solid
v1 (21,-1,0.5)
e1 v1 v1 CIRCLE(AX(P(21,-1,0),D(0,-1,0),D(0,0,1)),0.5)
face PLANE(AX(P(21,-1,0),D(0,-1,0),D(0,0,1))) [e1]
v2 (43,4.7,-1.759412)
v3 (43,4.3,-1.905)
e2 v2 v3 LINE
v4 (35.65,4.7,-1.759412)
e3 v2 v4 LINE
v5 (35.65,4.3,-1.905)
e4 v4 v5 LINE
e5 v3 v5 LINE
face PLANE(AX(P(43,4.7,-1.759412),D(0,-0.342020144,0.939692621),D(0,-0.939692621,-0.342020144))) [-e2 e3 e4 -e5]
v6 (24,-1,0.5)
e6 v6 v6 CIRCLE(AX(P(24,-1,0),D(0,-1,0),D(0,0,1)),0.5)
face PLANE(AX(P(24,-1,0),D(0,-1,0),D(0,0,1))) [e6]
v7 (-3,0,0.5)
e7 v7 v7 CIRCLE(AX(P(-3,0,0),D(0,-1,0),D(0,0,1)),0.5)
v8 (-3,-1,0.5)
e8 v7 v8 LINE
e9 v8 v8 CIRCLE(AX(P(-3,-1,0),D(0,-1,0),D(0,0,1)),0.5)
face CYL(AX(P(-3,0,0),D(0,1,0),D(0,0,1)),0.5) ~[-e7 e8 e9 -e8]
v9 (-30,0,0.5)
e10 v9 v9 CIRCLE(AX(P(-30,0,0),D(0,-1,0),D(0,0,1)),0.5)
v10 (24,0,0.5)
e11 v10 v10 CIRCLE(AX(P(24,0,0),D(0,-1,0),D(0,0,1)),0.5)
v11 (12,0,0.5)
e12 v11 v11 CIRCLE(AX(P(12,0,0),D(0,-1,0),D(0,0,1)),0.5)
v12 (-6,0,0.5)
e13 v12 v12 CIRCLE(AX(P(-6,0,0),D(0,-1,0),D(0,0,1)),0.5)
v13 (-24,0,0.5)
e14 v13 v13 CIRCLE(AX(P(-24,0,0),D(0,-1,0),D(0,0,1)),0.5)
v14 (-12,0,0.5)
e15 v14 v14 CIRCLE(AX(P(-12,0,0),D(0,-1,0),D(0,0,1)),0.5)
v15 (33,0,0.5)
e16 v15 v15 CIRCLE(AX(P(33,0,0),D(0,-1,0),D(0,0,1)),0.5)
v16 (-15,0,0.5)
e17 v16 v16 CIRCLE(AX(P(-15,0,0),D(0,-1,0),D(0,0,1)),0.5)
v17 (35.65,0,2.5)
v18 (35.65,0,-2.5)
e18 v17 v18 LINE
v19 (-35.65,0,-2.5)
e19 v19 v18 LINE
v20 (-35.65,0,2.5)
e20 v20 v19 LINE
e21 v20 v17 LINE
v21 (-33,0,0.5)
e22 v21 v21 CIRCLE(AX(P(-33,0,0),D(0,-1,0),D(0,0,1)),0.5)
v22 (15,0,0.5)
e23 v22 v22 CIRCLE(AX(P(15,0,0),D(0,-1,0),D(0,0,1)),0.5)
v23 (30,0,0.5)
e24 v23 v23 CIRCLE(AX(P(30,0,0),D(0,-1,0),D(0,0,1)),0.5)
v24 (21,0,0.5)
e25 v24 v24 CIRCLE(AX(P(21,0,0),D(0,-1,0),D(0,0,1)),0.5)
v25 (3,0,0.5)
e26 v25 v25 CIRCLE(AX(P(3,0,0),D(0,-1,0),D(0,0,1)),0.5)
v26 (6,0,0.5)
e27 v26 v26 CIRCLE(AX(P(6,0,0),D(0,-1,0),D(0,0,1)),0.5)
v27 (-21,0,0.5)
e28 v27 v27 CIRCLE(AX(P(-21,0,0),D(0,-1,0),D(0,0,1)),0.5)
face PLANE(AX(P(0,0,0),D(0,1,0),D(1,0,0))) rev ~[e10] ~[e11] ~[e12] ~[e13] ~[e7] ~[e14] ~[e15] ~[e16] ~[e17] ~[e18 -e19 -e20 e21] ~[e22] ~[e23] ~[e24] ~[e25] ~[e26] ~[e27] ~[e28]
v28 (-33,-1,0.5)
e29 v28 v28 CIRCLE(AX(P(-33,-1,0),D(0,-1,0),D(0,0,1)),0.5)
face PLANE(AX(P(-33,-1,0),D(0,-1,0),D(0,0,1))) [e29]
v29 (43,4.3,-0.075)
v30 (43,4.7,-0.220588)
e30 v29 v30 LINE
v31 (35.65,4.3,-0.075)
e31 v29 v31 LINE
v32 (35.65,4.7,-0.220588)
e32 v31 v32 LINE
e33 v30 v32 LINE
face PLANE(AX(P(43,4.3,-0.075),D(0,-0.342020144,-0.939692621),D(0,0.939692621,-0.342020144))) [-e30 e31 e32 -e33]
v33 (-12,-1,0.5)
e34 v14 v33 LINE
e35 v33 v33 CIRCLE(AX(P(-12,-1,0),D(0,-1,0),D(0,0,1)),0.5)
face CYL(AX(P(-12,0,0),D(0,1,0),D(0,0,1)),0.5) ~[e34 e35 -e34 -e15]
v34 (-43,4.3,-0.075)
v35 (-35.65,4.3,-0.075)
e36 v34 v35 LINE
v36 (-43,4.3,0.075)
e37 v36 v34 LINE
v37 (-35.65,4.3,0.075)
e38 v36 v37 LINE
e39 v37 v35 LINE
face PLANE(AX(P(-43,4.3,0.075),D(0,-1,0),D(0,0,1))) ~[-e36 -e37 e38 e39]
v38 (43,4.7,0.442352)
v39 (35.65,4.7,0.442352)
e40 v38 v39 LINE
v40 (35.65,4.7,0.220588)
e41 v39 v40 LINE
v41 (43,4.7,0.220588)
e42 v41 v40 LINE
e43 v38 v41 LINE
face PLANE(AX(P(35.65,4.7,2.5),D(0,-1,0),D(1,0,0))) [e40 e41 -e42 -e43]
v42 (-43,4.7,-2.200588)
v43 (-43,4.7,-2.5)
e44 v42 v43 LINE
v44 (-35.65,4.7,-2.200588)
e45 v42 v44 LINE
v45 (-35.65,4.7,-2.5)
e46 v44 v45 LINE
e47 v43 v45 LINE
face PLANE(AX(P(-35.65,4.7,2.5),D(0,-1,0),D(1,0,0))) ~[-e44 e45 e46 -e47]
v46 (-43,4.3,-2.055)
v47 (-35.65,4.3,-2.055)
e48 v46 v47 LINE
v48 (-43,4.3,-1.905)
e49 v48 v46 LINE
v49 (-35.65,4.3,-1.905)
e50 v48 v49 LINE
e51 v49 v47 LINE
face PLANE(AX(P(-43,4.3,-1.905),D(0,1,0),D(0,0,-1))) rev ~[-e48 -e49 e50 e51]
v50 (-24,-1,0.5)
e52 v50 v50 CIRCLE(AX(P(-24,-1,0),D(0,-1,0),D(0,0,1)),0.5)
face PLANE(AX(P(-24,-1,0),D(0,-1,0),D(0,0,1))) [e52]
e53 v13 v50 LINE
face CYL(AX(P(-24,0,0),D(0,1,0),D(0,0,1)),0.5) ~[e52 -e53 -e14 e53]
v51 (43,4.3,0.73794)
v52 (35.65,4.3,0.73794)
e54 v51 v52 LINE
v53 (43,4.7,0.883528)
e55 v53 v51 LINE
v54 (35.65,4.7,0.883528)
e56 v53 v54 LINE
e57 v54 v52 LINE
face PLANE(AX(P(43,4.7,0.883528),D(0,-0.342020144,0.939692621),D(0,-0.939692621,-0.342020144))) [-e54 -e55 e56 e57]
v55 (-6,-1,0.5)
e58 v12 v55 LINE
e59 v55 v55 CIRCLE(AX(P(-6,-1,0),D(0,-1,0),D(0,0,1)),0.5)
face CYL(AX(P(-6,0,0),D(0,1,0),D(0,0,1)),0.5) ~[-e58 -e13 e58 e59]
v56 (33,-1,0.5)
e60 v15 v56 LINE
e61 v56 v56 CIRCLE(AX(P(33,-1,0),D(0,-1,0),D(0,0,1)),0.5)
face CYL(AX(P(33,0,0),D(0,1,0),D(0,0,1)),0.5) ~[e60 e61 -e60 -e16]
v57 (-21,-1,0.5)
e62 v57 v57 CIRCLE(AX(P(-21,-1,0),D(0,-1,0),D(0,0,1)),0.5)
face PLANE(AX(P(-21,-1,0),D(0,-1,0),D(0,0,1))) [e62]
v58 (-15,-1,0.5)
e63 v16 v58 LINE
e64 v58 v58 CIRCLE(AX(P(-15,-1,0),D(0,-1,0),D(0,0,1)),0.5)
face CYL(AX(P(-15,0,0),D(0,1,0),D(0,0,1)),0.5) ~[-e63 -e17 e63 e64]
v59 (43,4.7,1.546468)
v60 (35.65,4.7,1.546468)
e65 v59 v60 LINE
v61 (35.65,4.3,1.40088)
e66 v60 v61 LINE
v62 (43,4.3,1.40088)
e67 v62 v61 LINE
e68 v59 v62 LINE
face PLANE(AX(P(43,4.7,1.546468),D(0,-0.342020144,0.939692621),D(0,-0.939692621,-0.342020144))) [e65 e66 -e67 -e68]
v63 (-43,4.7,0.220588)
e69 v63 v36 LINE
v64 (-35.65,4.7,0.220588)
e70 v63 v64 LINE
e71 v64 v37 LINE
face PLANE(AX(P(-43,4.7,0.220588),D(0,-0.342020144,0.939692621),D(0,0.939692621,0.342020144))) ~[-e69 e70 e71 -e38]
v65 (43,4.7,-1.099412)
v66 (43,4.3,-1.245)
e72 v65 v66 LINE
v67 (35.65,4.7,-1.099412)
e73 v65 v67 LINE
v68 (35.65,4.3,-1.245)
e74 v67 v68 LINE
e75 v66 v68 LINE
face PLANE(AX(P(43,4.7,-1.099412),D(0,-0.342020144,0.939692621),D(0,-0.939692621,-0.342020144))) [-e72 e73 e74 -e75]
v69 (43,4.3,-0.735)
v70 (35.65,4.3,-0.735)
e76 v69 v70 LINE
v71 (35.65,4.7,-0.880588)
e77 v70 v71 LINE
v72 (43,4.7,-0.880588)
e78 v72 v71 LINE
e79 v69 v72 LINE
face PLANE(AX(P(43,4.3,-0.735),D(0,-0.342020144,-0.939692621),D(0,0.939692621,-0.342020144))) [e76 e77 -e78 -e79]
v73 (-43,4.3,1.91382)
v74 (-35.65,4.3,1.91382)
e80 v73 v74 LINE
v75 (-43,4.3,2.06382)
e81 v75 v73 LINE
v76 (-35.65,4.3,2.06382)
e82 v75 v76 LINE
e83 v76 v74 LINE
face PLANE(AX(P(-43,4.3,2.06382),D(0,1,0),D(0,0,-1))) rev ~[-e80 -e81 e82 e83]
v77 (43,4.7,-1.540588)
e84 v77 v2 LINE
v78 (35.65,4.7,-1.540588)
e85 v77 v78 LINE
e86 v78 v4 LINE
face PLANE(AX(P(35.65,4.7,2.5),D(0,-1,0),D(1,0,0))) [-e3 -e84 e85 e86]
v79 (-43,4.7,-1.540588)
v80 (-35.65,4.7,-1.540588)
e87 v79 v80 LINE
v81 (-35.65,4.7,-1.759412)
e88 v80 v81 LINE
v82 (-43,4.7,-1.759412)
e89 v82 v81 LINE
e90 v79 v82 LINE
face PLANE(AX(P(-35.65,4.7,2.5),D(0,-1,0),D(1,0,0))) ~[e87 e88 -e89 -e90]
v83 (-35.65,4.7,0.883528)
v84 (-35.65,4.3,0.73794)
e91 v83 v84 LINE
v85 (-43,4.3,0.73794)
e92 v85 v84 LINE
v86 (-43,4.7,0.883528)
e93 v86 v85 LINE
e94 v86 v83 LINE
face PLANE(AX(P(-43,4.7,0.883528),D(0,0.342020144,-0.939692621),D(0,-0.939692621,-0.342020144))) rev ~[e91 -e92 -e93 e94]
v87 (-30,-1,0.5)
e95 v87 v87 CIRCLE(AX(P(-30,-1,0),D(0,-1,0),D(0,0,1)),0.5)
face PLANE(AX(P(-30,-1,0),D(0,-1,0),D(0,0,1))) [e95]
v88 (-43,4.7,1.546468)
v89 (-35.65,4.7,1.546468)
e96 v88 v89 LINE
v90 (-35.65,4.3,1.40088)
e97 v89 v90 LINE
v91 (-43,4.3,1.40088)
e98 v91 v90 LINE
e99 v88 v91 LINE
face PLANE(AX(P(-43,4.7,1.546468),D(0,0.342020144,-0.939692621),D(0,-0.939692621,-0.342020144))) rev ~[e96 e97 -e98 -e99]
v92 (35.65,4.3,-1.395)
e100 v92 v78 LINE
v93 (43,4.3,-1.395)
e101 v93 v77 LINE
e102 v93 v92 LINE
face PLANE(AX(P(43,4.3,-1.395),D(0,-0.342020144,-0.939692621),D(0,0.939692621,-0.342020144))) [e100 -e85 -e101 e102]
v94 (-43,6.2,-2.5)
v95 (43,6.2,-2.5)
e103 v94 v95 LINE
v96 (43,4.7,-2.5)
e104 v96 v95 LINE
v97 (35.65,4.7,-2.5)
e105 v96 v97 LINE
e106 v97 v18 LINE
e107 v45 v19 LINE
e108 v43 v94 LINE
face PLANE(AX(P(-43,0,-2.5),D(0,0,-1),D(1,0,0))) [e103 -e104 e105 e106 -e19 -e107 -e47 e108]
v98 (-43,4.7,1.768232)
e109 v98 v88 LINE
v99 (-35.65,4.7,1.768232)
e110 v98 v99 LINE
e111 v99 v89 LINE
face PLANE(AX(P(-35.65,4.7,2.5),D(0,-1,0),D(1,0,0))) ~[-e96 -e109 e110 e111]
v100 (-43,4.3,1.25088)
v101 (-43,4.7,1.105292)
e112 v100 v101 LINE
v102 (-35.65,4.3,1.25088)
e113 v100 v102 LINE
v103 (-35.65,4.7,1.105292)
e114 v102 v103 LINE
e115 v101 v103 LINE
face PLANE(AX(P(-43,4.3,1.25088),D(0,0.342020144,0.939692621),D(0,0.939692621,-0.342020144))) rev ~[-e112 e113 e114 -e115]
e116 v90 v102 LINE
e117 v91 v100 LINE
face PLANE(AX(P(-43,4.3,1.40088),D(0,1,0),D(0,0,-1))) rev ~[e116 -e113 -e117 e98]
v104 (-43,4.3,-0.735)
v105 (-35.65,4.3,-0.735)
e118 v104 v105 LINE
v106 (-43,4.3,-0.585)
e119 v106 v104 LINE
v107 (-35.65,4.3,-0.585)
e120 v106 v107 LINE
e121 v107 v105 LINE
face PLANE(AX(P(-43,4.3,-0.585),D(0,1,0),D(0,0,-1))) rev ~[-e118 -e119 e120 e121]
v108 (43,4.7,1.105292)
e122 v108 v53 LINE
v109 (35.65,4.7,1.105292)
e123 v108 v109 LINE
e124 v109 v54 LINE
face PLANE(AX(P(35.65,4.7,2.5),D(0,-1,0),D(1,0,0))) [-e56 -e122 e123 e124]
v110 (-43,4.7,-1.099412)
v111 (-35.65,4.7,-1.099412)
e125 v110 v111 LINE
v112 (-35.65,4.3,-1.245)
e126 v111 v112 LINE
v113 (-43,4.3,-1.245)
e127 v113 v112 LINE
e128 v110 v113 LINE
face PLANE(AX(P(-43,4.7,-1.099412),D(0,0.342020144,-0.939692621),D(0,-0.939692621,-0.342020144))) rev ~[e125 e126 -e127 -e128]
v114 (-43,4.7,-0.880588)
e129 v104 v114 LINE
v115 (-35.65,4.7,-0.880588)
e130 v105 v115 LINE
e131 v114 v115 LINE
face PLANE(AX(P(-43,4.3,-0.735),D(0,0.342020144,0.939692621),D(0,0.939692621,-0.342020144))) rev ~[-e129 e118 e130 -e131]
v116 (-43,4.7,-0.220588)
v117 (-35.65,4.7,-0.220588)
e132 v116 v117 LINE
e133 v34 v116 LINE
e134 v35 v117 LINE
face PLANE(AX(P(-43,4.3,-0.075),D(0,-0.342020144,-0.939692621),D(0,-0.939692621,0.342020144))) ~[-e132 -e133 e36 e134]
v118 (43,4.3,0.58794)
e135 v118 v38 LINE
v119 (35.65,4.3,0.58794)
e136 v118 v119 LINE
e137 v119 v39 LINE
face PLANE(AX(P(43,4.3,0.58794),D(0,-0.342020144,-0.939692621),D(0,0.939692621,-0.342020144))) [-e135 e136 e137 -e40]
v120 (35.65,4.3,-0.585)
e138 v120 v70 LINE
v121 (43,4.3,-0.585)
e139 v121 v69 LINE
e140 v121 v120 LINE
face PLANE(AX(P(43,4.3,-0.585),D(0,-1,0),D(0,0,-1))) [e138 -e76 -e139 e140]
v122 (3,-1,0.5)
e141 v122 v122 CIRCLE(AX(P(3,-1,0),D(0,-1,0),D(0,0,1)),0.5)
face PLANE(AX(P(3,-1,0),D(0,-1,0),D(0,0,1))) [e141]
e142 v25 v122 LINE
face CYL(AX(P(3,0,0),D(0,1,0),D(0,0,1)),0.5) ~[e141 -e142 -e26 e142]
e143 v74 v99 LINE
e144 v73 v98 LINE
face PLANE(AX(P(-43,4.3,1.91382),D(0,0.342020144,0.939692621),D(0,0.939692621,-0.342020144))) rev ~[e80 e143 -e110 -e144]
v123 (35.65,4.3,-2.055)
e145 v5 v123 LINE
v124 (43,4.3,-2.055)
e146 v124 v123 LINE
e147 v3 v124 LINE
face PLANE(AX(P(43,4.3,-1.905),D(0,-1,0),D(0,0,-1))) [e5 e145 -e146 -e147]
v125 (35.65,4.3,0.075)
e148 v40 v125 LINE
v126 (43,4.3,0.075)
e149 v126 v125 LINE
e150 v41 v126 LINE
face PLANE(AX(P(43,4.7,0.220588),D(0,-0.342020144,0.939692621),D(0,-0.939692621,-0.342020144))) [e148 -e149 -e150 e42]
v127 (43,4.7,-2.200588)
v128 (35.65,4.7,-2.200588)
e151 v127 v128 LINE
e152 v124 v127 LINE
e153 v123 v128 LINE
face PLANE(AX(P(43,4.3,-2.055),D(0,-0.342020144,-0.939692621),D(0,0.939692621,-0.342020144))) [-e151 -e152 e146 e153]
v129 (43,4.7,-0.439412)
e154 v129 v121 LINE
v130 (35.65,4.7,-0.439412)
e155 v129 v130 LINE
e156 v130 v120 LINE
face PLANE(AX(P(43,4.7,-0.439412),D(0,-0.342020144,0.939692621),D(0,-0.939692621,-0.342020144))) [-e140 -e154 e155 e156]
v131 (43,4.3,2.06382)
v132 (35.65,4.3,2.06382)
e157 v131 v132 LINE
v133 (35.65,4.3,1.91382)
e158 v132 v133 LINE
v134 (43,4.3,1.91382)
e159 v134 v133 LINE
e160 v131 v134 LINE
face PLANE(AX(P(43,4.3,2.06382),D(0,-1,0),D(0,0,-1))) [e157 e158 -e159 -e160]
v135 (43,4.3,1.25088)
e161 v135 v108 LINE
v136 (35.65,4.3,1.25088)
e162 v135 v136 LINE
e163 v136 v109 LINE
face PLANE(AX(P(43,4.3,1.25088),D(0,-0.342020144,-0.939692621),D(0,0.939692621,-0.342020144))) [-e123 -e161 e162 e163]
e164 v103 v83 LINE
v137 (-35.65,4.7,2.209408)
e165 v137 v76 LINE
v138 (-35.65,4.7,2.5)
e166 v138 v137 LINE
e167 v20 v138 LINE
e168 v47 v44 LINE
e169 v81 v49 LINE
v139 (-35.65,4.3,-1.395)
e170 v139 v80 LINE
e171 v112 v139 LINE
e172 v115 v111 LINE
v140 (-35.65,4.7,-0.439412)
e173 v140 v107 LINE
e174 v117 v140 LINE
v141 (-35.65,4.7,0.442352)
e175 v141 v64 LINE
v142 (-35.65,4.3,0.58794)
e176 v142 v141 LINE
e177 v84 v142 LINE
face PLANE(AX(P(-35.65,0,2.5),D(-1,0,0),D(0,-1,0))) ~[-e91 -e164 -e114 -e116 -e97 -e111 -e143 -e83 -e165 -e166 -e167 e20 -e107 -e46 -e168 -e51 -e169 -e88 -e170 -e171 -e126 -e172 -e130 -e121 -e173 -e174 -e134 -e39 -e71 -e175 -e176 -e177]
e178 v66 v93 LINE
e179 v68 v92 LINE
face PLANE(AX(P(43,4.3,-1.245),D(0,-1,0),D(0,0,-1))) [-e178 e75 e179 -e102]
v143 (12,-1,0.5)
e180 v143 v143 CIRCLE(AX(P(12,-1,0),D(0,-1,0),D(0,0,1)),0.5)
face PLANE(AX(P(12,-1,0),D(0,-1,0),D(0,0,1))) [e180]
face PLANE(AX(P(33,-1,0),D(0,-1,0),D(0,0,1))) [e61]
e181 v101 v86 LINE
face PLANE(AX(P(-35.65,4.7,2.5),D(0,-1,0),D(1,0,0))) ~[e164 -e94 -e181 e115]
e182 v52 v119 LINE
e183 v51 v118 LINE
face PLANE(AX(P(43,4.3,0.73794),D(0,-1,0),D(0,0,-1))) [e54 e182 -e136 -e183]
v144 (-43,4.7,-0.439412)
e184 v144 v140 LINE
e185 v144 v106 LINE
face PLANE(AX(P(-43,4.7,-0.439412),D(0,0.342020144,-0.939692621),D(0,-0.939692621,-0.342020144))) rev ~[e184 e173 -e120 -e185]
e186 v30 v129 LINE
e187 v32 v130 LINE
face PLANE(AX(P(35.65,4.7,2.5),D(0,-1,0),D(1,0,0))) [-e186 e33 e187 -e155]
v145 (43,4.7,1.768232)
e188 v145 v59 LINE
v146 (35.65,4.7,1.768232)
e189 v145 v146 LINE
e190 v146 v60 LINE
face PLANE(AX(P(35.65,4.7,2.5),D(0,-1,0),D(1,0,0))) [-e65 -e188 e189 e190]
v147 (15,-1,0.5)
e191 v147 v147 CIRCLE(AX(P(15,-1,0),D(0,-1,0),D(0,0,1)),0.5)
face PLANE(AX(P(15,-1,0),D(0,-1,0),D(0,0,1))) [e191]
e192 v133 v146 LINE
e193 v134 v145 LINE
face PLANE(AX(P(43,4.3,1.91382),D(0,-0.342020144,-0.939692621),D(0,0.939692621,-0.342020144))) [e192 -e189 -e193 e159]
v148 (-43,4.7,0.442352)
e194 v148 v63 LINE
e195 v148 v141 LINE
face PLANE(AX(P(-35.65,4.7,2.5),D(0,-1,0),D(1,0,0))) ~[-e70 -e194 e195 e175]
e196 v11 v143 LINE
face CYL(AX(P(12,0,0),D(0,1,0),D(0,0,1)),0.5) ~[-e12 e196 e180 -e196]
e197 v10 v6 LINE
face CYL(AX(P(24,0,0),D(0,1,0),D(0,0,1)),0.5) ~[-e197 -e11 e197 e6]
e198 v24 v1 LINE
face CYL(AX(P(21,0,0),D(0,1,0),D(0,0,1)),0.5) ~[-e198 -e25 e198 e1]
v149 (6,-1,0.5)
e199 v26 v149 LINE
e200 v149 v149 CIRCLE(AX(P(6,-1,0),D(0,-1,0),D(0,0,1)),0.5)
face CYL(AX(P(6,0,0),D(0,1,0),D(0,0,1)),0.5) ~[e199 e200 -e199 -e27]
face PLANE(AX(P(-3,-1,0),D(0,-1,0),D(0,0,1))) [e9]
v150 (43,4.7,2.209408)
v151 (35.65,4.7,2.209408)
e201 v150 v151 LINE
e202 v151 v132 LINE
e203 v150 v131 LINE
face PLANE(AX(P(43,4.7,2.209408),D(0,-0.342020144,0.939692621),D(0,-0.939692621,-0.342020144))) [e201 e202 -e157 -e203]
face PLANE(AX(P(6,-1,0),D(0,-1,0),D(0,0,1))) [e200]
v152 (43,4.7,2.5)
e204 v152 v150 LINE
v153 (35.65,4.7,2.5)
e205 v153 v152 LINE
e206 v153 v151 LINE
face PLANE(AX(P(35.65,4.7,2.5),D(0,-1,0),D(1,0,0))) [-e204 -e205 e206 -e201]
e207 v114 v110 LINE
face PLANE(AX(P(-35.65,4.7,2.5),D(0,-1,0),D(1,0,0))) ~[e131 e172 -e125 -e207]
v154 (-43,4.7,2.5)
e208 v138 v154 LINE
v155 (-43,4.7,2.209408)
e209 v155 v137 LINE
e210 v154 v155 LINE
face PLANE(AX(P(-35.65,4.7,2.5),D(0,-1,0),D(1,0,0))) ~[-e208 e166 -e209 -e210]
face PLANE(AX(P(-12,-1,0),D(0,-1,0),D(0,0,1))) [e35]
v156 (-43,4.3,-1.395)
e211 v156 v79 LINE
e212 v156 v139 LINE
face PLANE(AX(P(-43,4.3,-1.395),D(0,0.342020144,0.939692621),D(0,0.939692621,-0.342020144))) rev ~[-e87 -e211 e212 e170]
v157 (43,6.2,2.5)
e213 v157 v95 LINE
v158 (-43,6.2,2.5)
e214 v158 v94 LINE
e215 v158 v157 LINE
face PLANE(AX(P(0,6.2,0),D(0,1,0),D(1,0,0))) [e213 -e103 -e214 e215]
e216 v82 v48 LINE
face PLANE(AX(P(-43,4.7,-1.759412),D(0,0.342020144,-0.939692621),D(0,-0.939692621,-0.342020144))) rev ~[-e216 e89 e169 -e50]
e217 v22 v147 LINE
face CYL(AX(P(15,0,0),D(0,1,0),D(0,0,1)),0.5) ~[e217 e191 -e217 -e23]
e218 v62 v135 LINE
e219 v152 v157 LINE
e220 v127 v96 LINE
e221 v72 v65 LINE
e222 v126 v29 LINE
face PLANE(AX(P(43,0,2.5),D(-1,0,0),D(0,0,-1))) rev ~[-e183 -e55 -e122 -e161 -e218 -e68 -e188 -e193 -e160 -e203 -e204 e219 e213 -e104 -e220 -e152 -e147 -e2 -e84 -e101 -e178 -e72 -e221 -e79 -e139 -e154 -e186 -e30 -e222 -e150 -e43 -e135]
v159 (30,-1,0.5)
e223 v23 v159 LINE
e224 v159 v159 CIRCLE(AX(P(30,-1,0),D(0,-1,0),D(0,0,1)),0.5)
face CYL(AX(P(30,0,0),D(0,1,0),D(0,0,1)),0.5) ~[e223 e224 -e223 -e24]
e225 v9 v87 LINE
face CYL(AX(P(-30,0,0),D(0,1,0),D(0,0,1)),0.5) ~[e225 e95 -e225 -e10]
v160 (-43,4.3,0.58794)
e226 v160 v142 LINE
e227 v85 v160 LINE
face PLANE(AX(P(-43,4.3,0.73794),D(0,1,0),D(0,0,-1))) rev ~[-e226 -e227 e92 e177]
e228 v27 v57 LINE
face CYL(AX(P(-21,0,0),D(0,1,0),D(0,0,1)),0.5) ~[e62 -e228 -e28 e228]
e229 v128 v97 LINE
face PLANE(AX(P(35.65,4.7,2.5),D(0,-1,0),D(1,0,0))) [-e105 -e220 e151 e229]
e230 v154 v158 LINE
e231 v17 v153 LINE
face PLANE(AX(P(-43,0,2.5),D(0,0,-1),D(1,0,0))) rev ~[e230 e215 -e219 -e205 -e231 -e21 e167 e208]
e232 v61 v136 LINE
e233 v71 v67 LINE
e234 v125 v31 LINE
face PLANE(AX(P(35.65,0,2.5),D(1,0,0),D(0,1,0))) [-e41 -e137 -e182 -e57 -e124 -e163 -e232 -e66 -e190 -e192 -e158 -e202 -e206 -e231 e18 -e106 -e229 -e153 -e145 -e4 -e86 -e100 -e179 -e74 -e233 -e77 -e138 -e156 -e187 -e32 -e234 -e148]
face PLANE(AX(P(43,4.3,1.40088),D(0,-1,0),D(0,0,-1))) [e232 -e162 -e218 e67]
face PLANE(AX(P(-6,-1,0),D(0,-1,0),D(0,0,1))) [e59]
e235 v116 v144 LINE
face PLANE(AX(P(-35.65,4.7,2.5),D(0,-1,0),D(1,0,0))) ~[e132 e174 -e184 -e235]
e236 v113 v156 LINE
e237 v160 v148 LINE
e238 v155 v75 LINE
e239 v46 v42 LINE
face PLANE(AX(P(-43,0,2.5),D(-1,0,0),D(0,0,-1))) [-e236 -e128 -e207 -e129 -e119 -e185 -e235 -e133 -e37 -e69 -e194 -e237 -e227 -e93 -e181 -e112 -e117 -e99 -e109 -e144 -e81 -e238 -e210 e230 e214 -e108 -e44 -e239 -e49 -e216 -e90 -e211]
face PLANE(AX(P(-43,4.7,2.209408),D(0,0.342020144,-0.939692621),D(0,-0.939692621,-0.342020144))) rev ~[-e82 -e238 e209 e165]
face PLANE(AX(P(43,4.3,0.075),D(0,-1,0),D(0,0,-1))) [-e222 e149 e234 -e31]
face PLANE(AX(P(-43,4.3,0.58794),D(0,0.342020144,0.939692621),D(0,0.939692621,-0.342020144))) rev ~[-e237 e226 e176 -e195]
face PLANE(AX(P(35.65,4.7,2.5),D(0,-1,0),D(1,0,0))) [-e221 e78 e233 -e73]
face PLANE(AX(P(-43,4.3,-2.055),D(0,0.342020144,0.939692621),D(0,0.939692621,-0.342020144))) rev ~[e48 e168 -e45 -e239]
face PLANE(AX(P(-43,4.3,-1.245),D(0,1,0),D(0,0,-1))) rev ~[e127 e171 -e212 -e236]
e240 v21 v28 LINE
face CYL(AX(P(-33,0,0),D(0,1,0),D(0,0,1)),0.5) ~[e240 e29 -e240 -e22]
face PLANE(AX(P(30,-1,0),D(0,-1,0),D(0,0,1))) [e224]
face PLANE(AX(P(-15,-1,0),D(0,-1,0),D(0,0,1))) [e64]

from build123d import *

# Parameters (mm, degrees)
SKETCH1_W                       = 86
SKETCH1_H                       = 5
BOSS_EXTRUDE1_DEPTH             = 6.2
SKETCH2_W                       = 7.35
SKETCH2_H                       = 4.7
CUT_EXTRUDE1_DEPTH              = 10
SKETCH3_R                       = 0.5
FIRST_HOLD_DOWN_CYLINDERS_DEPTH = 1
LPATTERN1_COUNT                 = 5
LPATTERN1_PITCH                 = 9
LPATTERN1_COL_COUNT             = 4
LPATTERN1_COL_PITCH             = 9
FIRST_RIDGE_DEPTH               = 7.35
RACK_LEFT_PATTERN_COUNT         = 4
RACK_LEFT_PATTERN_PITCH         = 0.66294
RACK_LEFT_PATTERN_COL_COUNT     = 4
RACK_LEFT_PATTERN_COL_PITCH     = 0.66
MIRROR2_COPY_1_DEPTH            = 7.35
MIRROR2_COPY_2_DEPTH            = 7.35
MIRROR2_COPY_3_DEPTH            = 7.35
MIRROR2_COPY_4_DEPTH            = 7.35
MIRROR2_COPY_5_DEPTH            = 7.35
MIRROR2_COPY_6_DEPTH            = 7.35


with BuildPart() as part:
    # Sketch1 → Boss-Extrude1 (new body)
    with BuildSketch(Plane(origin=(0, 0, 0), x_dir=(1, 0, 0), z_dir=(0, 1, 0))):
        Rectangle(SKETCH1_W, SKETCH1_H)
    extrude(amount=BOSS_EXTRUDE1_DEPTH)

    # Sketch2 → Cut-Extrude1 (cut)
    with BuildSketch(Plane.XY.offset(2.5)):
        with Locations((39.325, 2.35)):
            Rectangle(SKETCH2_W, SKETCH2_H)
    cut_extrude1 = extrude(amount=-CUT_EXTRUDE1_DEPTH, mode=Mode.SUBTRACT)

    # Mirror1: Cut-Extrude1 across plane
    add(cut_extrude1.mirror(Plane(origin=(0, 0, 0), x_dir=(0, 0, 1), z_dir=(1, 0, 0))), mode=Mode.SUBTRACT)

    # Sketch3 → First hold-down cylinders (add)
    with BuildSketch(Plane.XZ):
        with Locations(Location((-3, 0, 0), (0, 0, 90))):
            Circle(SKETCH3_R)
        with Locations(Location((-6, 0, 0), (0, 0, 90))):
            Circle(SKETCH3_R)
    first_hold_down_cylinders = extrude(amount=FIRST_HOLD_DOWN_CYLINDERS_DEPTH)

    # LPattern1: First hold-down cylinders ×5
    with Locations(*[(i * LPATTERN1_PITCH, 0, 0) for i in range(1, LPATTERN1_COUNT)]):
        add(first_hold_down_cylinders)

    # LPattern1 col: First hold-down cylinders ×4
    with Locations(*[(-i * LPATTERN1_COL_PITCH, 0, 0) for i in range(1, LPATTERN1_COL_COUNT)]):
        add(first_hold_down_cylinders)

    # Sketch4 → First Ridge (add)
    with BuildSketch(Plane(origin=(43, 0, 0), x_dir=(0, 0, -1), z_dir=(1, 0, 0))):
        Polygon((0.220588094, 4.7), (-0.220588094, 4.7), (-0.075, 4.3), (0.075, 4.3), align=None)
    first_ridge = extrude(amount=-FIRST_RIDGE_DEPTH)

    # Rack Left Pattern: First Ridge ×4
    with Locations(*[(0, 0, i * RACK_LEFT_PATTERN_PITCH) for i in range(1, RACK_LEFT_PATTERN_COUNT)]):
        add(first_ridge)

    # Rack Left Pattern col: First Ridge ×4
    with Locations(*[(0, 0, -i * RACK_LEFT_PATTERN_COL_PITCH) for i in range(1, RACK_LEFT_PATTERN_COL_COUNT)]):
        add(first_ridge)

    # Mirror2: First Ridge across plane
    add(first_ridge.mirror(Plane(origin=(0, 0, 0), x_dir=(0, 0, 1), z_dir=(1, 0, 0))))

    # Mirror2 copy 1 sketch → Mirror2 copy 1 (add)
    with BuildSketch(Plane(origin=(-43, 0, 0.66294), x_dir=(0, 0, -1), z_dir=(-1, 0, 0))):
        Polygon((0.220588094, -4.7), (-0.220588094, -4.7), (-0.075, -4.3), (0.075, -4.3), align=None)
    extrude(amount=-MIRROR2_COPY_1_DEPTH)

    # Mirror2 copy 2 sketch → Mirror2 copy 2 (add)
    with BuildSketch(Plane(origin=(-43, 0, 1.32588), x_dir=(0, 0, -1), z_dir=(-1, 0, 0))):
        Polygon((0.220588094, -4.7), (-0.220588094, -4.7), (-0.075, -4.3), (0.075, -4.3), align=None)
    extrude(amount=-MIRROR2_COPY_2_DEPTH)

    # Mirror2 copy 3 sketch → Mirror2 copy 3 (add)
    with BuildSketch(Plane(origin=(-43, 0, 1.98882), x_dir=(0, 0, -1), z_dir=(-1, 0, 0))):
        Polygon((0.220588094, -4.7), (-0.220588094, -4.7), (-0.075, -4.3), (0.075, -4.3), align=None)
    extrude(amount=-MIRROR2_COPY_3_DEPTH)

    # Mirror2 copy 4 sketch → Mirror2 copy 4 (add)
    with BuildSketch(Plane(origin=(-43, 0, -0.66), x_dir=(0, 0, -1), z_dir=(-1, 0, 0))):
        Polygon((0.220588094, -4.7), (-0.220588094, -4.7), (-0.075, -4.3), (0.075, -4.3), align=None)
    extrude(amount=-MIRROR2_COPY_4_DEPTH)

    # Mirror2 copy 5 sketch → Mirror2 copy 5 (add)
    with BuildSketch(Plane(origin=(-43, 0, -1.32), x_dir=(0, 0, -1), z_dir=(-1, 0, 0))):
        Polygon((0.220588094, -4.7), (-0.220588094, -4.7), (-0.075, -4.3), (0.075, -4.3), align=None)
    extrude(amount=-MIRROR2_COPY_5_DEPTH)

    # Mirror2 copy 6 sketch → Mirror2 copy 6 (add)
    with BuildSketch(Plane(origin=(-43, 0, -1.98), x_dir=(0, 0, -1), z_dir=(-1, 0, 0))):
        Polygon((0.220588094, -4.7), (-0.220588094, -4.7), (-0.075, -4.3), (0.075, -4.3), align=None)
    extrude(amount=-MIRROR2_COPY_6_DEPTH)


solid = part.part
